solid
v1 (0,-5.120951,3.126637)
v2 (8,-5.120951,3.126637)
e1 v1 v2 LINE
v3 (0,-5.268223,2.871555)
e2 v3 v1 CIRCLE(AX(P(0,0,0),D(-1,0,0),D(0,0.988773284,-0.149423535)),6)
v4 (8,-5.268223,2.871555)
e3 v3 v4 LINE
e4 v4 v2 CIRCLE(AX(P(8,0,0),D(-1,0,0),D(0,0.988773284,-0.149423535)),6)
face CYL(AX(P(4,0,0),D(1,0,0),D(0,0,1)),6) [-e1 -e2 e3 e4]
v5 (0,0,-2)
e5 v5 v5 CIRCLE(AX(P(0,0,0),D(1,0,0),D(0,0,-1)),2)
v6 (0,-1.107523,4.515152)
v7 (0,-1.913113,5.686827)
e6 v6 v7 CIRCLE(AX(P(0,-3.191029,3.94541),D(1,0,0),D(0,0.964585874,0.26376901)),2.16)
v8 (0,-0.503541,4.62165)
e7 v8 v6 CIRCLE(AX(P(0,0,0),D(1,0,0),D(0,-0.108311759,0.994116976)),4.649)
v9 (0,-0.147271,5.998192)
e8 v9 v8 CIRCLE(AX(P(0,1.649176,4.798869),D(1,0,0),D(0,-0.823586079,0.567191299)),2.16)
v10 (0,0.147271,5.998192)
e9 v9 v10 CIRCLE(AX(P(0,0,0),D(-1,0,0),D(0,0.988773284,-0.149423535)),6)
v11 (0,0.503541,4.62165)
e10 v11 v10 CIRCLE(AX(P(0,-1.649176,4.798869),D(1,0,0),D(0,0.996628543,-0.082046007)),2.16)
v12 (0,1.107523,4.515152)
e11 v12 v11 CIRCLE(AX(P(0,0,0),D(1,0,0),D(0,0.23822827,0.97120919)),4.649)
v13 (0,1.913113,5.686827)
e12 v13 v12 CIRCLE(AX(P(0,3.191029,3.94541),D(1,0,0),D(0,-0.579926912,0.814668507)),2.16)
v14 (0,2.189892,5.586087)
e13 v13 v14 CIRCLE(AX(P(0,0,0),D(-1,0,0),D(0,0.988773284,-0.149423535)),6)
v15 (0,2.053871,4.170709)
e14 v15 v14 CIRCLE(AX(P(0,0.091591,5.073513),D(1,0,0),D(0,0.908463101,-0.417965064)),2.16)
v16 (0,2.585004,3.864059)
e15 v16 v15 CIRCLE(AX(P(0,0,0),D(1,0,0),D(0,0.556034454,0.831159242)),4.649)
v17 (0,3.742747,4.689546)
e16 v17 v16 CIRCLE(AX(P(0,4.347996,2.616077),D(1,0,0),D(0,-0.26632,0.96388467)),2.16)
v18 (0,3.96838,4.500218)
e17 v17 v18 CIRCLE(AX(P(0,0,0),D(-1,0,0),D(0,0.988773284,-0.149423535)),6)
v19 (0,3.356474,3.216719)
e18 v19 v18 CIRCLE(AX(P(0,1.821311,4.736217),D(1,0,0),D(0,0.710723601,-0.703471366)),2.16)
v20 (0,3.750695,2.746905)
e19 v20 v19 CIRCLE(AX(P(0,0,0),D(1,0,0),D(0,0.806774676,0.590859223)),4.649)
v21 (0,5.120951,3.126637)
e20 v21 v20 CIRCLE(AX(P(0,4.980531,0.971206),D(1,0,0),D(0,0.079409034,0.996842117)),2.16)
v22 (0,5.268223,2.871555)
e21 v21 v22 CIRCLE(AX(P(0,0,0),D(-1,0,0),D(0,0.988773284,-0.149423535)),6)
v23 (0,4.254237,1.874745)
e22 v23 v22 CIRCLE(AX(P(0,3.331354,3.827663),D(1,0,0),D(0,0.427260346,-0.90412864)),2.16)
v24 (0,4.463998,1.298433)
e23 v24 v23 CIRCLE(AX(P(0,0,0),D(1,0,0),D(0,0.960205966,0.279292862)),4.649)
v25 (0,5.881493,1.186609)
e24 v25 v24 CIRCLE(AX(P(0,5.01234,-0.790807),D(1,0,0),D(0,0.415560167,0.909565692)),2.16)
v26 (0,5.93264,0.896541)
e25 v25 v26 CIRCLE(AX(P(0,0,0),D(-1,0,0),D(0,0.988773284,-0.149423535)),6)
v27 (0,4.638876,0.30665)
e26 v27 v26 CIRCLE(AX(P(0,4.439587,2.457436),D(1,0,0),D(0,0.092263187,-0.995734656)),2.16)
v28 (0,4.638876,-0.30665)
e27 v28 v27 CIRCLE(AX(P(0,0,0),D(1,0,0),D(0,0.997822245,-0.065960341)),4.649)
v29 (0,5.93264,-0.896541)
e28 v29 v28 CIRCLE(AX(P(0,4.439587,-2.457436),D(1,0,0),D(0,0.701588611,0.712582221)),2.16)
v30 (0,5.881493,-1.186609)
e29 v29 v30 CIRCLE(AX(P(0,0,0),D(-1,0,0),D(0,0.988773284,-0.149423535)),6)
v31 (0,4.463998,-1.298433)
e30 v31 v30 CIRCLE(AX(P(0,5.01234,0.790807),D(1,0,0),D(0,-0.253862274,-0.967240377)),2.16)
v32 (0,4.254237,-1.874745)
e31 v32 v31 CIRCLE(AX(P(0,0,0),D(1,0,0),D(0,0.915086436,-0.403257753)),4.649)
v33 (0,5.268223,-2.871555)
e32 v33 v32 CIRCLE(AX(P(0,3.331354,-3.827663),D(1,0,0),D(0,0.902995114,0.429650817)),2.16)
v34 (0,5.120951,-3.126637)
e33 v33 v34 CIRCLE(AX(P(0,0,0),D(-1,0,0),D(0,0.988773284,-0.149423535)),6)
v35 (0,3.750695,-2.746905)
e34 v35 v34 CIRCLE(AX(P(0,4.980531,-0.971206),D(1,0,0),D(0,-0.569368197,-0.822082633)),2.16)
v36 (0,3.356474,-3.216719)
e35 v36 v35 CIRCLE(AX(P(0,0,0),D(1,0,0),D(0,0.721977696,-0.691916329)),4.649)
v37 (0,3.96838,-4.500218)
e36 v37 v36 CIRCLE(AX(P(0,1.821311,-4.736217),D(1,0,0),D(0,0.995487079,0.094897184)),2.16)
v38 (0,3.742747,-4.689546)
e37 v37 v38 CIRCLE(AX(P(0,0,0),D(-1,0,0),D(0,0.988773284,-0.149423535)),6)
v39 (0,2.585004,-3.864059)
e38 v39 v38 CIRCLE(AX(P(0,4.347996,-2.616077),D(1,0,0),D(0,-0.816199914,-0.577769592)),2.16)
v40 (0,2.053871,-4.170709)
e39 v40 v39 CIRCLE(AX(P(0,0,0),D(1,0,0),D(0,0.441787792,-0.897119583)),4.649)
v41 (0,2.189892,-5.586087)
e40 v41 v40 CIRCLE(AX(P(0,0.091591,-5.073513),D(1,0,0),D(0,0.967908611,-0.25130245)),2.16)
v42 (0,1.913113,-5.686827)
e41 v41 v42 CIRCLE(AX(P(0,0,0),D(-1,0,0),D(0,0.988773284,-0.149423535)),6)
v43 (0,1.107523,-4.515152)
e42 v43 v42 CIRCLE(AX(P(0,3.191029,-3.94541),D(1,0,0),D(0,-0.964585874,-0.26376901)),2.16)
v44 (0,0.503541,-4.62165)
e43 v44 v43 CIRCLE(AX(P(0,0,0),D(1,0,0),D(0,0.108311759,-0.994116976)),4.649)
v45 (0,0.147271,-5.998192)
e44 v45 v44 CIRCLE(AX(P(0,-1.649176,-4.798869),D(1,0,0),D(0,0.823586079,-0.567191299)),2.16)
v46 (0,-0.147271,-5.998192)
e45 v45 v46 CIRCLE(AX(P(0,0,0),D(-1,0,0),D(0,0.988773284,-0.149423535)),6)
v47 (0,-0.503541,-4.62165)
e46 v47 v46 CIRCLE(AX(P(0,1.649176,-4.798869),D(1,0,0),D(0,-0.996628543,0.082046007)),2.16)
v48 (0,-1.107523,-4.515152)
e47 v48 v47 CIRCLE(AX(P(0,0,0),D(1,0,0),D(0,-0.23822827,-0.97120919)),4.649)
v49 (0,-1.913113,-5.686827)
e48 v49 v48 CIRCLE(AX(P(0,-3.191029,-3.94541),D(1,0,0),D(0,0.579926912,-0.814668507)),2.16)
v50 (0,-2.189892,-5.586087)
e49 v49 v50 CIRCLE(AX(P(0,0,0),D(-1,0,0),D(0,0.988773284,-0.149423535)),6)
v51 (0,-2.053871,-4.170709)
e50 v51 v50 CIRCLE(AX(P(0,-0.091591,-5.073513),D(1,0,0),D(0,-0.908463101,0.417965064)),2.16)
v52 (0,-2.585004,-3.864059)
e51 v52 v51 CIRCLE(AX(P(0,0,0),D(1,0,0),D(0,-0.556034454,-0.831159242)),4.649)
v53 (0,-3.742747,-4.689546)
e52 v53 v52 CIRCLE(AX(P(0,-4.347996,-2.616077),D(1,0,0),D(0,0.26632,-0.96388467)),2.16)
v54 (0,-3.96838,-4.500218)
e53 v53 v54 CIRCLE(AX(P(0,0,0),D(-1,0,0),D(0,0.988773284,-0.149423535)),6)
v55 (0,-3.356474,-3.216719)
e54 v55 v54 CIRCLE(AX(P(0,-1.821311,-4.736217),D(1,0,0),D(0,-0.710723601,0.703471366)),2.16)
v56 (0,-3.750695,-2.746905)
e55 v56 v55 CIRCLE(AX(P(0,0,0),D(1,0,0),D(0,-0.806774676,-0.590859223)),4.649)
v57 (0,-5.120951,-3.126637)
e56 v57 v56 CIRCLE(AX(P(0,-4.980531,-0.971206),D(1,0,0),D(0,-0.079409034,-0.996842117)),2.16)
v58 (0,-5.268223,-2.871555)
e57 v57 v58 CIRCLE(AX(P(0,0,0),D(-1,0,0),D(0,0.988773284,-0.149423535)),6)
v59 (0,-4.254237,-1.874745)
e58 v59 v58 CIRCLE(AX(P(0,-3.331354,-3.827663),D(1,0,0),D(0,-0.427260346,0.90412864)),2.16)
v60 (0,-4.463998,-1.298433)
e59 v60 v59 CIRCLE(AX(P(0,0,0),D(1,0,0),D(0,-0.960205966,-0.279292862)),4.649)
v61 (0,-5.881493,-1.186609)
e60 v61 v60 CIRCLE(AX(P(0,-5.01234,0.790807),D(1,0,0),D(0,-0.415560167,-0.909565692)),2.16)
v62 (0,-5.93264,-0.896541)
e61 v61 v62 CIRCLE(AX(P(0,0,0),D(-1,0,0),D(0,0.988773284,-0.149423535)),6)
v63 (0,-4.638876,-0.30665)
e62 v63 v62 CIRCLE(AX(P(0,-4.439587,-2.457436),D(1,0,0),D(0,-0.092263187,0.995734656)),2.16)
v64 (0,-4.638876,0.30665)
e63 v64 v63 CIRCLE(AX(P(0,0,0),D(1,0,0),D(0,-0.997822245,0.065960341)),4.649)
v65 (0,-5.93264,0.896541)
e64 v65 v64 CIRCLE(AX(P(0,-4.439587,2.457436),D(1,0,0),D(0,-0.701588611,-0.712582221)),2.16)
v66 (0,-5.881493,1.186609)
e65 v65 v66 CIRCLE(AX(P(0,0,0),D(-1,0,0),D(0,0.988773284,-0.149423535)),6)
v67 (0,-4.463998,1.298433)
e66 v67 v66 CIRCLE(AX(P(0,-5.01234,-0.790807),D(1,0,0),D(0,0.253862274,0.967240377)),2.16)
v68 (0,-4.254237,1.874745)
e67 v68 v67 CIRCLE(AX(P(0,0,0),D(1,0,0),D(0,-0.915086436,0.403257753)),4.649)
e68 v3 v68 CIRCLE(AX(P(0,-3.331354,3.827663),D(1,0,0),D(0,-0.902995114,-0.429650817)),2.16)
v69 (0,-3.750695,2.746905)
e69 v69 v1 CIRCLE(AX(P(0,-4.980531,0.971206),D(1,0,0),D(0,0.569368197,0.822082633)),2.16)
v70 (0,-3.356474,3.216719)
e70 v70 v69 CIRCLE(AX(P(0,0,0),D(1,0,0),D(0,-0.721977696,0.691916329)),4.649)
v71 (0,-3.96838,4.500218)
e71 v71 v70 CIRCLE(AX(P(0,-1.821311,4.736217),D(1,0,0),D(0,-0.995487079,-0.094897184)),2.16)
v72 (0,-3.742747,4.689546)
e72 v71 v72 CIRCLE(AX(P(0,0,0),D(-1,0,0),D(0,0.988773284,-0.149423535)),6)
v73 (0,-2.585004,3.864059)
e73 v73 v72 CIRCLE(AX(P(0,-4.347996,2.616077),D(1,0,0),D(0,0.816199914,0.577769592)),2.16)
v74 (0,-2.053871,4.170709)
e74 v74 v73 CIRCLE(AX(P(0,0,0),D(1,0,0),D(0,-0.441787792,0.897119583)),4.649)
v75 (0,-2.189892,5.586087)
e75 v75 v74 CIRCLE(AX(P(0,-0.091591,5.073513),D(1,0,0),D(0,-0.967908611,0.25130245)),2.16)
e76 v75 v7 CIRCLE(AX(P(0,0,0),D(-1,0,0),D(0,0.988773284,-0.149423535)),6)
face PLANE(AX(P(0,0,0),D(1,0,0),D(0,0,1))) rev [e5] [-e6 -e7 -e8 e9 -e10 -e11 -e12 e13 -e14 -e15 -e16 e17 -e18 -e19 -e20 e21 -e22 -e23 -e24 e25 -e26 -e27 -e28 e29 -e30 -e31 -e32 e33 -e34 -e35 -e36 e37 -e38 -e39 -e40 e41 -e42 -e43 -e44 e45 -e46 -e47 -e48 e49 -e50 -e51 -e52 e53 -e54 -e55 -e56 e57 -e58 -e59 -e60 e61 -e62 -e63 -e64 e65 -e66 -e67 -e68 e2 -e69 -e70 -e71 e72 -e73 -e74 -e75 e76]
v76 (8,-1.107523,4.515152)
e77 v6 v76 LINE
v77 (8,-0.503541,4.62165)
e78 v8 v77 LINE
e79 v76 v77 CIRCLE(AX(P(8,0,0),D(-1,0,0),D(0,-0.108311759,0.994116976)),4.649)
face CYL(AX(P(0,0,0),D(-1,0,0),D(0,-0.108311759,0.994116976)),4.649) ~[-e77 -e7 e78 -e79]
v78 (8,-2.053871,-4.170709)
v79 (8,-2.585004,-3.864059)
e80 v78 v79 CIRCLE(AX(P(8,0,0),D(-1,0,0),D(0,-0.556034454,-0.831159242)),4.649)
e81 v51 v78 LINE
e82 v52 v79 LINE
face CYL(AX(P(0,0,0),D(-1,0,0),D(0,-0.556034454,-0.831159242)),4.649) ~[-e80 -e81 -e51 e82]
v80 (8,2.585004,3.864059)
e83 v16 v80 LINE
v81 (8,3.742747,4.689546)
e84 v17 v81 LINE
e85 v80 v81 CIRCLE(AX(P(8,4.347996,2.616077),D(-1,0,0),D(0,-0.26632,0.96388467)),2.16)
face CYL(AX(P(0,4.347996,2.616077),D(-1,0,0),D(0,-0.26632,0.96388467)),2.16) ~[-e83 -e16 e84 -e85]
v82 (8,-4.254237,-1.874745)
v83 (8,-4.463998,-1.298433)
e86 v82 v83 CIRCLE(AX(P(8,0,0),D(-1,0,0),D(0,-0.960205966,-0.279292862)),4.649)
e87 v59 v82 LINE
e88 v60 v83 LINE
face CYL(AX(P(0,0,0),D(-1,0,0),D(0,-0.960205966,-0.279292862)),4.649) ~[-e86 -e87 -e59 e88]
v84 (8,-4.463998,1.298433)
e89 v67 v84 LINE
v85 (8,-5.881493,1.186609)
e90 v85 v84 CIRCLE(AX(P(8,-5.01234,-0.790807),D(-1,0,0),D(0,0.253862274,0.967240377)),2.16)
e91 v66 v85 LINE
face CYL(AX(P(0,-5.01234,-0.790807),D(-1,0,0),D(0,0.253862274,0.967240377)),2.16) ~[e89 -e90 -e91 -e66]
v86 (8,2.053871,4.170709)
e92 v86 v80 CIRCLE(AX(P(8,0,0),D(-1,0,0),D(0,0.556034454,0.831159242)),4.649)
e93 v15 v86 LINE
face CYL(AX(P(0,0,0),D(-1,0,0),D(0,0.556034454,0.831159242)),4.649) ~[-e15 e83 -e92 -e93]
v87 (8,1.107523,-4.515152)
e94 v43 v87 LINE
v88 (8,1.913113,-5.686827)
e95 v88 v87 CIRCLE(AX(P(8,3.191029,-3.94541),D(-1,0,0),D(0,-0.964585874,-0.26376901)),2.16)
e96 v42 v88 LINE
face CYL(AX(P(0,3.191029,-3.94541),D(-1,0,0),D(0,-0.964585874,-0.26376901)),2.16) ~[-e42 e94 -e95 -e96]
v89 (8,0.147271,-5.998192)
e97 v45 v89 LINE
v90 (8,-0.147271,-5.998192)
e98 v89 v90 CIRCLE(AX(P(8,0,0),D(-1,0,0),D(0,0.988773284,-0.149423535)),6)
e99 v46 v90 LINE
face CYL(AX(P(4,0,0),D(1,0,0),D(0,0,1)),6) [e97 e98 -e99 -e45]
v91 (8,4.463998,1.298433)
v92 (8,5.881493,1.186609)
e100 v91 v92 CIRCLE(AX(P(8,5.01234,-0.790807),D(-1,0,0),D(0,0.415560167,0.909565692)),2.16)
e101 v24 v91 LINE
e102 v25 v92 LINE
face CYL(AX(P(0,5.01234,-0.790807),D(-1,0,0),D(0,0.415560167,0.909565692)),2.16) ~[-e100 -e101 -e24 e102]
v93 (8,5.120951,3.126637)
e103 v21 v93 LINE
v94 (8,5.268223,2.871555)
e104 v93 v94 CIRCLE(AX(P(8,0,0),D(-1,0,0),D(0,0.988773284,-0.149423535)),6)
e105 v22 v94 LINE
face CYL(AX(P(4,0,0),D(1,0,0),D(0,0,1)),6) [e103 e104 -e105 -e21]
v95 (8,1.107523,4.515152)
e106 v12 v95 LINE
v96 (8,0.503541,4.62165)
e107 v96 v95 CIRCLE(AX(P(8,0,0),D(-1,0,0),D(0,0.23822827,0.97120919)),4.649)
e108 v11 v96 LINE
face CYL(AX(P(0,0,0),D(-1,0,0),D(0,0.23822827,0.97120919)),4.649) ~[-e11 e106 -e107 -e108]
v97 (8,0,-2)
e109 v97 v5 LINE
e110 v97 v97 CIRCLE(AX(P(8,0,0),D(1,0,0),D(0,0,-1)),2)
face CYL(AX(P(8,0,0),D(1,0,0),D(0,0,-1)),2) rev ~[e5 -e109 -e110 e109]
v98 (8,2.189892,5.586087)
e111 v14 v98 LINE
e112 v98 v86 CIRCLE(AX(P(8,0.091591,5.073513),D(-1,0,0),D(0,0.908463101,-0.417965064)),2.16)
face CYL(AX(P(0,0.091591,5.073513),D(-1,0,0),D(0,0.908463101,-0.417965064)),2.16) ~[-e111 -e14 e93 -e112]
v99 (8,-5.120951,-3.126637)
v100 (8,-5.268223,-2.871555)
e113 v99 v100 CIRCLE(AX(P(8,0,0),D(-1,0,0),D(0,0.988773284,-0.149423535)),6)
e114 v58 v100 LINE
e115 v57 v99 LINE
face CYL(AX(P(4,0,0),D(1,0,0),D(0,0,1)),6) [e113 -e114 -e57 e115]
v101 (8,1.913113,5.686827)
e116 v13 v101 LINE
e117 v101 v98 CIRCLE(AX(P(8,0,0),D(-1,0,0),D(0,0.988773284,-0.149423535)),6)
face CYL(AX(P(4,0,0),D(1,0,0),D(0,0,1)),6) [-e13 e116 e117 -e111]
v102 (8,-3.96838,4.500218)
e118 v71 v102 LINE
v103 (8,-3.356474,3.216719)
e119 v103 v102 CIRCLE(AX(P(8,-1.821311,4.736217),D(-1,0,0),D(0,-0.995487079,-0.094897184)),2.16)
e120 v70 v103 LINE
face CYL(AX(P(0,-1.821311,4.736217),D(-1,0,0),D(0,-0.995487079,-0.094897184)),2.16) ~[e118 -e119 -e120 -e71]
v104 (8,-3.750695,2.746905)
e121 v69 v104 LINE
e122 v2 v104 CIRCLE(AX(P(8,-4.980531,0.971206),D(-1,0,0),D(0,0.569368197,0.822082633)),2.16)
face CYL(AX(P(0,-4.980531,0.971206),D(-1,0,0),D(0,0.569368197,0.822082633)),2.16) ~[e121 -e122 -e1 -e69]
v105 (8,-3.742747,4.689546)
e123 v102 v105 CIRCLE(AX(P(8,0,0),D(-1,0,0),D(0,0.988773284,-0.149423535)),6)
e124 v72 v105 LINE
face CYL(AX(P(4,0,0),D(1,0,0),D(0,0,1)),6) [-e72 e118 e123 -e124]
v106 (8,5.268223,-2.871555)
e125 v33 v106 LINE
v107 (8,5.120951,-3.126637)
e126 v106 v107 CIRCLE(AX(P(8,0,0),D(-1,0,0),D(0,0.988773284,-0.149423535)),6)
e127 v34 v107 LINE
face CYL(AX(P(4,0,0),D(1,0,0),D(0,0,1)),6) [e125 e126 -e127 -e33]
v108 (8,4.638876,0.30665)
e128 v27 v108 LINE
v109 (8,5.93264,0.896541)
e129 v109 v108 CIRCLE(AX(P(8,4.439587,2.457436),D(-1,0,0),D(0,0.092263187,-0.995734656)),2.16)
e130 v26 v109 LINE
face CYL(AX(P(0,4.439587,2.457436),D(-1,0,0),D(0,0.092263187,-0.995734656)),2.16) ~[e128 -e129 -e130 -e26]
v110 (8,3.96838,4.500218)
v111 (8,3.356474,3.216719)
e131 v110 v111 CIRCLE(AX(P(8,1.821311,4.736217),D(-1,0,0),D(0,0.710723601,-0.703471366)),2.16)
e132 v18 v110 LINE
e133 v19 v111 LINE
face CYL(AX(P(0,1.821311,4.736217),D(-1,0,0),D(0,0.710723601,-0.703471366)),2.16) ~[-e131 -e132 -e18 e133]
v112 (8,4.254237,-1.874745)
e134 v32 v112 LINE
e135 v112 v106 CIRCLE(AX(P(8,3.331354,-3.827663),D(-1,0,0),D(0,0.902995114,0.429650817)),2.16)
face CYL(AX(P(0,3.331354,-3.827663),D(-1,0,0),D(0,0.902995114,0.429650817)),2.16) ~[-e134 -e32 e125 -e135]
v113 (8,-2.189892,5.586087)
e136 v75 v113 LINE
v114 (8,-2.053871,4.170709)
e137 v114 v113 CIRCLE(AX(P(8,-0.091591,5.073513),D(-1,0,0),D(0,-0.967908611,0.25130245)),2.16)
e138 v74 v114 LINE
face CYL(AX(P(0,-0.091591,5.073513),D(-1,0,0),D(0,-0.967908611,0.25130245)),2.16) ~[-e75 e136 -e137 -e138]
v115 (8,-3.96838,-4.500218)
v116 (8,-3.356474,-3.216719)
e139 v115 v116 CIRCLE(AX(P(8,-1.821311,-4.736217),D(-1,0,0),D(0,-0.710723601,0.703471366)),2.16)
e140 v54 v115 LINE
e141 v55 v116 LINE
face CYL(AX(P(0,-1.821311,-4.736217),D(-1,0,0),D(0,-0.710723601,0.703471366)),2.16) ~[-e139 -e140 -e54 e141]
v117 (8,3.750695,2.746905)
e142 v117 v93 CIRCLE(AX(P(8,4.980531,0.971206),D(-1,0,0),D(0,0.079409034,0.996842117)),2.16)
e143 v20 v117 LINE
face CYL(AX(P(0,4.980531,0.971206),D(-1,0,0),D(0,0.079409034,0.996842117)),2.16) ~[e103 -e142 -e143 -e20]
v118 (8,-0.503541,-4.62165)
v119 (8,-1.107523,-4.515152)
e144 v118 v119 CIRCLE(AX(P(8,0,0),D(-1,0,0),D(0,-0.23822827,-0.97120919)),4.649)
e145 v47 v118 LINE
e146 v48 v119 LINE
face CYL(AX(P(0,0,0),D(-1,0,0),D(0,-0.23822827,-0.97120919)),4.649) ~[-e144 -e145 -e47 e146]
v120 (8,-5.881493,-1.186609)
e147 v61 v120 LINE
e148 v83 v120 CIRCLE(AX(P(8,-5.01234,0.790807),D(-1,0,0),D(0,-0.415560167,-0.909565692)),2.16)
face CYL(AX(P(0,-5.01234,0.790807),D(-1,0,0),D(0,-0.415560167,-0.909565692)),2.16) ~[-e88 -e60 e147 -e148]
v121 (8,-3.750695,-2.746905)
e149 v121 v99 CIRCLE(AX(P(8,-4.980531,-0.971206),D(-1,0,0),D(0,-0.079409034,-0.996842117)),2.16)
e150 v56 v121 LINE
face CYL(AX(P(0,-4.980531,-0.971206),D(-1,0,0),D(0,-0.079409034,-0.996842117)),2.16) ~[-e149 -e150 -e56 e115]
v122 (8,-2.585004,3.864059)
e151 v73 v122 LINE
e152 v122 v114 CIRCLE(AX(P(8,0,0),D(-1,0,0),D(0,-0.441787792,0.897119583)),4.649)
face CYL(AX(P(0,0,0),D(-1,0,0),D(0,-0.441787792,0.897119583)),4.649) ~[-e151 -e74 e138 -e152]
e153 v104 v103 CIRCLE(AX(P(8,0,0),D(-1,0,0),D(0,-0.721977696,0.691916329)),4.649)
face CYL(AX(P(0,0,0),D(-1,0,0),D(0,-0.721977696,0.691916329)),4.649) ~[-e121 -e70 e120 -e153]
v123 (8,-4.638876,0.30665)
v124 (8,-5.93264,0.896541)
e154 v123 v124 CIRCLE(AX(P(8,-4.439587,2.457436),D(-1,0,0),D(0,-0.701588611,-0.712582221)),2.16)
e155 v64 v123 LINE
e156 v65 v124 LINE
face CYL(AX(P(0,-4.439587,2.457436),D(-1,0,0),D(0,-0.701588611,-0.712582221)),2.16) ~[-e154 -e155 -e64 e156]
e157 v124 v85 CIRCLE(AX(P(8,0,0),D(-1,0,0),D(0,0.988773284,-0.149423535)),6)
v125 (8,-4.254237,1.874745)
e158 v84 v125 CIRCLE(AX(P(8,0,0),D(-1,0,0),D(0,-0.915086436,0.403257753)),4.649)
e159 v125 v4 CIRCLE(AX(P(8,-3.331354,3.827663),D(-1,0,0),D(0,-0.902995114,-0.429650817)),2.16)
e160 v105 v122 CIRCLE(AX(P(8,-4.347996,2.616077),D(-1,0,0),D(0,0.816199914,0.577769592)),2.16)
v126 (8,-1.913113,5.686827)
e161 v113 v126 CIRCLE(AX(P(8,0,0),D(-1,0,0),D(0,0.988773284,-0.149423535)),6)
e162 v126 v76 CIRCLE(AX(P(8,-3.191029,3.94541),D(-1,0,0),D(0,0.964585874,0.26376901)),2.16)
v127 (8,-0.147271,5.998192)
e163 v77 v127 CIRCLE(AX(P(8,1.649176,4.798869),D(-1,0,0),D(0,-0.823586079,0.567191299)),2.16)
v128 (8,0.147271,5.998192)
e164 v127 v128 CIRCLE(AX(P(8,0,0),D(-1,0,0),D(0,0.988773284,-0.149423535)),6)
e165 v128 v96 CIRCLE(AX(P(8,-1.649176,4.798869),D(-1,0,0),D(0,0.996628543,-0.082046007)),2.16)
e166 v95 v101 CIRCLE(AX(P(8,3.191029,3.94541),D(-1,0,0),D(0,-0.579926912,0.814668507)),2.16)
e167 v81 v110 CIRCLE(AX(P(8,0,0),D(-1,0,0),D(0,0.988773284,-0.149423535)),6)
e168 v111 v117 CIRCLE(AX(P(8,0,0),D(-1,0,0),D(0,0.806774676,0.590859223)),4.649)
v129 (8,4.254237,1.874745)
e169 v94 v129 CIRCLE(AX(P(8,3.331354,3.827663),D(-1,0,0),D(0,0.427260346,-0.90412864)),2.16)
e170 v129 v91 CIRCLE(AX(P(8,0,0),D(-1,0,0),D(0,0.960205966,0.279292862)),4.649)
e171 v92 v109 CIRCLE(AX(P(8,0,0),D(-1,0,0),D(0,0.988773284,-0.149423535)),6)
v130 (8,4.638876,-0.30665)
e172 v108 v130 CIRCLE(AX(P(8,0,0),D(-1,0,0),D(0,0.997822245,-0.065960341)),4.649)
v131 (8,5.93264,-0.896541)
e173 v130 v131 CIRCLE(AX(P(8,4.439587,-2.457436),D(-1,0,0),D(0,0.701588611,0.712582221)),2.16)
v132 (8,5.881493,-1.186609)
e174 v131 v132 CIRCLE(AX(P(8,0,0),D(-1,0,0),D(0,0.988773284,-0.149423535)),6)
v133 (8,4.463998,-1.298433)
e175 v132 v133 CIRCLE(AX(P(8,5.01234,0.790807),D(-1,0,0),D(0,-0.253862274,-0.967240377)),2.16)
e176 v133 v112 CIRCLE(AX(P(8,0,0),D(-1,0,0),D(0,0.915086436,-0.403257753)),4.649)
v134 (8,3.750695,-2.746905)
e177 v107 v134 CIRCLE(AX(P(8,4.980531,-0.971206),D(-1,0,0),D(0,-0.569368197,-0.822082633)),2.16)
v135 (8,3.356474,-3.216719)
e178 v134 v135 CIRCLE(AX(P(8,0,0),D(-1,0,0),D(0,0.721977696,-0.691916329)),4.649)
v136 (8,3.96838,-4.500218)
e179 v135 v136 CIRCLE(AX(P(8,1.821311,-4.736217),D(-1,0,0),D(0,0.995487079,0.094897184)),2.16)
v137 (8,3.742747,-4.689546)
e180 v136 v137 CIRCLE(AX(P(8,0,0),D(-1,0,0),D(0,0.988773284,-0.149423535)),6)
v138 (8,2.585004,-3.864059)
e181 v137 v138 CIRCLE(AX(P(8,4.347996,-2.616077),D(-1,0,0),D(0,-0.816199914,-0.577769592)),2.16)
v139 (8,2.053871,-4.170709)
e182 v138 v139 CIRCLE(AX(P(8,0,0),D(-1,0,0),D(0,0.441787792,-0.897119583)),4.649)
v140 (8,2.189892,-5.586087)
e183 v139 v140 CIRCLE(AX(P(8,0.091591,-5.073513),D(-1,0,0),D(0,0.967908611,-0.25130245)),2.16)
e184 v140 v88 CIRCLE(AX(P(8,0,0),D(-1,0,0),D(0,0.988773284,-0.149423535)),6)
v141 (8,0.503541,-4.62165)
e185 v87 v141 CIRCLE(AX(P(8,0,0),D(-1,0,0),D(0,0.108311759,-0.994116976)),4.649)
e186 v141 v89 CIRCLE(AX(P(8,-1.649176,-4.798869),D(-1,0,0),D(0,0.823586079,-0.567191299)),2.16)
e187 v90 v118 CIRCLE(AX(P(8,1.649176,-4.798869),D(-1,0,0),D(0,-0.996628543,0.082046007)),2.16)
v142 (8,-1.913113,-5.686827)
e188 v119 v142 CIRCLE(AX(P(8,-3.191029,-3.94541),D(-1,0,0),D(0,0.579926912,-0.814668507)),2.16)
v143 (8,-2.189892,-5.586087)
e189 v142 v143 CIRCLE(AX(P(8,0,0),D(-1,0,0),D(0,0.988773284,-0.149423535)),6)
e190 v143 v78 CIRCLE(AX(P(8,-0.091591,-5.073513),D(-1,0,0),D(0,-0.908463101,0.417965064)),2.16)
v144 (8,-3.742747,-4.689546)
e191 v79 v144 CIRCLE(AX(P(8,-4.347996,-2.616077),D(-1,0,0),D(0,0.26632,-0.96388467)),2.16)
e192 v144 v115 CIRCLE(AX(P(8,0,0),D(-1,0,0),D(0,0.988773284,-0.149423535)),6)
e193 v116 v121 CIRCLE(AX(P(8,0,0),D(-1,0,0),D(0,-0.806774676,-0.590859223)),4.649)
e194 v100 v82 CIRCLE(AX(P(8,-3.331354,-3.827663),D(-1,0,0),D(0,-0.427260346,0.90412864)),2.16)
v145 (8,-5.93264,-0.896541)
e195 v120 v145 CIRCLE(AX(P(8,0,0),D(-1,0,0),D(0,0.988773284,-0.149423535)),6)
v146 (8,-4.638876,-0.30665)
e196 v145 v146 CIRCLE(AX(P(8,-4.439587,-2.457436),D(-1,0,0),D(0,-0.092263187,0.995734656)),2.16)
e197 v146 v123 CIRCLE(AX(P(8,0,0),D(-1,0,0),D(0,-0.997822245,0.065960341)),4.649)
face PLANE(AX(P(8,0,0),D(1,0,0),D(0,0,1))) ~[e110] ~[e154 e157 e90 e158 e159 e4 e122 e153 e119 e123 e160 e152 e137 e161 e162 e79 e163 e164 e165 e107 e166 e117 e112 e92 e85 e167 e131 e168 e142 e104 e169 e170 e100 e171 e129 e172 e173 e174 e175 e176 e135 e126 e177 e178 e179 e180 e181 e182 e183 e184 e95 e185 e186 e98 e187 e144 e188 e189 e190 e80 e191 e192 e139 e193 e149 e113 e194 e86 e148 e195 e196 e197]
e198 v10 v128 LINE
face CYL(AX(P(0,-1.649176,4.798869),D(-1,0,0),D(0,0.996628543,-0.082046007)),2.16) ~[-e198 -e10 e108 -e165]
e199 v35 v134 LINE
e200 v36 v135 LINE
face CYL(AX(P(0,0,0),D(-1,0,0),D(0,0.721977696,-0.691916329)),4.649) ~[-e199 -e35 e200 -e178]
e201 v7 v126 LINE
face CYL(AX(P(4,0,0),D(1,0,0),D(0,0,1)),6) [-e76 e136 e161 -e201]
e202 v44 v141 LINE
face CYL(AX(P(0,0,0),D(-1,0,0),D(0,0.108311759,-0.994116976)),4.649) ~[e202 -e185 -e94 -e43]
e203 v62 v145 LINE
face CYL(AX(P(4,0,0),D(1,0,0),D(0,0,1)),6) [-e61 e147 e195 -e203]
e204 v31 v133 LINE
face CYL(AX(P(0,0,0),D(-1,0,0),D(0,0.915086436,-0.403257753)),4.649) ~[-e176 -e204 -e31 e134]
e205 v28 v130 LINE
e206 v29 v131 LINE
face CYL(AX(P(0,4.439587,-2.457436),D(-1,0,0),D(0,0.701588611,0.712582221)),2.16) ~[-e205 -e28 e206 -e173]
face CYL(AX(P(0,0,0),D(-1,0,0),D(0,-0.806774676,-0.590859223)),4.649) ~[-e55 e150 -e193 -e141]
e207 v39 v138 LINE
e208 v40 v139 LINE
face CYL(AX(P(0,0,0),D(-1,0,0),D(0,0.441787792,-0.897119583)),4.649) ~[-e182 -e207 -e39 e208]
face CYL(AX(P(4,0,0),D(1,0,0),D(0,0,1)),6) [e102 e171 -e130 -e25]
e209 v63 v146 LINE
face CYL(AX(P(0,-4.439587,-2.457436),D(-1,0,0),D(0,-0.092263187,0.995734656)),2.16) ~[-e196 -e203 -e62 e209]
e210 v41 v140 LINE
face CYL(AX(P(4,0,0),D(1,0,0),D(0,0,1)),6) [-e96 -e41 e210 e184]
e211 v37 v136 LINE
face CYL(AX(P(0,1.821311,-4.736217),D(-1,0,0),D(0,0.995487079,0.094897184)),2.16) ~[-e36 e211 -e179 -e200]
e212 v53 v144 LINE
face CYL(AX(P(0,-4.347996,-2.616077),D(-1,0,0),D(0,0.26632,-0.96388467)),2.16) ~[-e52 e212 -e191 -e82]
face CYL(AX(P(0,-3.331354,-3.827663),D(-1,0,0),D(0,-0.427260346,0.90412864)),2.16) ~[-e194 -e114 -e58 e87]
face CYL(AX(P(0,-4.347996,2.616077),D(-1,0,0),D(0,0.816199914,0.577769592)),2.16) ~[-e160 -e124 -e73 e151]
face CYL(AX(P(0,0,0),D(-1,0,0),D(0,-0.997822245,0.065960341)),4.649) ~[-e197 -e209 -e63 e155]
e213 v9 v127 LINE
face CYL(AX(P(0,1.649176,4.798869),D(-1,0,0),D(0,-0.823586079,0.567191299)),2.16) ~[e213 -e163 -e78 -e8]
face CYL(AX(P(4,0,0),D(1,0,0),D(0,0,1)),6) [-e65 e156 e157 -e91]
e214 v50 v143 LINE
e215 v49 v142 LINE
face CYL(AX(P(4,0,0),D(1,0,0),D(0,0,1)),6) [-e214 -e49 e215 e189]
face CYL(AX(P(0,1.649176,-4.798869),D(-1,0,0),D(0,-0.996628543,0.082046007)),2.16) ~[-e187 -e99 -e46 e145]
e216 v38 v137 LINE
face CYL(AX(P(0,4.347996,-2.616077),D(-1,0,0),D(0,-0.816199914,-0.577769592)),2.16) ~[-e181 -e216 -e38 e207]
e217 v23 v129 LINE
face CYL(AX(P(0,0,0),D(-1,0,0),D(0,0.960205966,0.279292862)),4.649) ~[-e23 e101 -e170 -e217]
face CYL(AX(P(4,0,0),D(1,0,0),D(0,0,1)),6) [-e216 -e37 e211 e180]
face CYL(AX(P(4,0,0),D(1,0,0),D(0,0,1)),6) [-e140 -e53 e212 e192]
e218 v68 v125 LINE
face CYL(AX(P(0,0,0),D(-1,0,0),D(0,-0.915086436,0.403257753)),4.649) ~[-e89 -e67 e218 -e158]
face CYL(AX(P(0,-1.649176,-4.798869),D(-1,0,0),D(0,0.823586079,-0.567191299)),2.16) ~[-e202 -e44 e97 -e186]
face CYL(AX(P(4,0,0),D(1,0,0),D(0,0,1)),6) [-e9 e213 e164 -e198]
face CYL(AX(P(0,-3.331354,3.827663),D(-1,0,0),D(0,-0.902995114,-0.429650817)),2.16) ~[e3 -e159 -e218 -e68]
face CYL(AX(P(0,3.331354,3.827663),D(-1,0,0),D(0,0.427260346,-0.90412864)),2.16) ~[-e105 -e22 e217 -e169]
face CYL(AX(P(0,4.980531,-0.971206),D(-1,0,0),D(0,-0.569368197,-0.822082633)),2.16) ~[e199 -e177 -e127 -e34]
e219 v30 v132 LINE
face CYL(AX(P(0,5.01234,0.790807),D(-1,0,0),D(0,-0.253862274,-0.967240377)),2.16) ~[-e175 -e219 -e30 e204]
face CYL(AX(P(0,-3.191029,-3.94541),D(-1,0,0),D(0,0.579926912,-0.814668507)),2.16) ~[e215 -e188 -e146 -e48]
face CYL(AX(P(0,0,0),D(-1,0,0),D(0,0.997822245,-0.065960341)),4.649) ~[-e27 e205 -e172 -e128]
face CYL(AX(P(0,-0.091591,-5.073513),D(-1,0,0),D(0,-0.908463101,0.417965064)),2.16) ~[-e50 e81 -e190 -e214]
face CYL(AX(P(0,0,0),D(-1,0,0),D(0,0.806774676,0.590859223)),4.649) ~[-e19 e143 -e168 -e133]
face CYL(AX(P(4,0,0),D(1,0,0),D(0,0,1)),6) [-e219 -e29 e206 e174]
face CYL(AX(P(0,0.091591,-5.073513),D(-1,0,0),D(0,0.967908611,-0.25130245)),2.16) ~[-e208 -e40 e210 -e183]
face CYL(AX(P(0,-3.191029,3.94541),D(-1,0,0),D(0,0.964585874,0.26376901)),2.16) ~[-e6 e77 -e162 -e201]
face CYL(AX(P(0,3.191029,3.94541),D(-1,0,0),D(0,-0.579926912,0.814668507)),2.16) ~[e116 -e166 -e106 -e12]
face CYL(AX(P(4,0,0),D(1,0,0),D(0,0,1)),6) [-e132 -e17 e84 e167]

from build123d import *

# Parameters (mm, degrees)
BASPROSKE_W        = 8
BASPROSKE_H        = 6
TOOTHCUT_DEPTH     = 12.66190379
TEETHCUTS_COUNT    = 18
TEETHCUTS_ANGLE    = 340
BORSKE_R           = 0.5
BORE_DEPTH         = 50.0000508
SKETCH1_R          = 2
CUT_EXTRUDE1_DEPTH = 12.627390673


with BuildPart() as part:
    # BasProSke → Base-Revolve (revolve)
    with BuildSketch(Plane(origin=(0, 0, 0), x_dir=(1, 0, 0), z_dir=(0, 1, 0)), mode=Mode.PRIVATE) as base_revolve_sk:
        with Locations((4, 3)):
            Rectangle(BASPROSKE_W, BASPROSKE_H)
    revolve(base_revolve_sk.sketch.rotate(Axis((-10, 0, 0), (1, 0, 0)), 180), axis=Axis((-10, 0, 0), (1, 0, 0)))

    # TooCutSke → ToothCut (cut, through all)
    with BuildSketch(Plane(origin=(0, 0, 0), x_dir=(0, 0, -1), z_dir=(1, 0, 0))):
        with BuildLine():
            ThreePointArc((0.306649621, 4.638875619), (0, 4.649), (-0.306649621, 4.638875619))
            ThreePointArc((-0.306649621, 4.638875619), (-0.498605842, 5.349852231), (-0.918258882, 5.955018538))
            ThreePointArc((-0.918258882, 5.955018538), (0, 6.0254), (0.918258882, 5.955018538))
            ThreePointArc((0.918258882, 5.955018538), (0.498605842, 5.349852231), (0.306649621, 4.638875619))
        make_face()
    toothcut = extrude(amount=TOOTHCUT_DEPTH, mode=Mode.SUBTRACT)

    # TeethCuts: ToothCut ×18 about axis
    teethcuts_axis = Axis((-10, 0, 0), (1, 0, 0))
    for i in range(1, TEETHCUTS_COUNT):
        add(toothcut.rotate(teethcuts_axis, i * TEETHCUTS_ANGLE / (TEETHCUTS_COUNT - 1)), mode=Mode.SUBTRACT)

    # BorSke → Bore (cut, symmetric)
    with BuildSketch(Plane(origin=(0, 0, 0), x_dir=(0, 0, -1), z_dir=(1, 0, 0))):
        with Locations(Location((0, 0, 0), (0, 0, 180))):
            Circle(BORSKE_R)
    extrude(amount=BORE_DEPTH, both=True, mode=Mode.SUBTRACT)

    # Sketch1 → Cut-Extrude1 (cut, through all)
    with BuildSketch(Plane(origin=(8, 0, 0), x_dir=(0, 0, -1), z_dir=(1, 0, 0))):
        Circle(SKETCH1_R)
    extrude(amount=-CUT_EXTRUDE1_DEPTH, mode=Mode.SUBTRACT)


solid = part.part
